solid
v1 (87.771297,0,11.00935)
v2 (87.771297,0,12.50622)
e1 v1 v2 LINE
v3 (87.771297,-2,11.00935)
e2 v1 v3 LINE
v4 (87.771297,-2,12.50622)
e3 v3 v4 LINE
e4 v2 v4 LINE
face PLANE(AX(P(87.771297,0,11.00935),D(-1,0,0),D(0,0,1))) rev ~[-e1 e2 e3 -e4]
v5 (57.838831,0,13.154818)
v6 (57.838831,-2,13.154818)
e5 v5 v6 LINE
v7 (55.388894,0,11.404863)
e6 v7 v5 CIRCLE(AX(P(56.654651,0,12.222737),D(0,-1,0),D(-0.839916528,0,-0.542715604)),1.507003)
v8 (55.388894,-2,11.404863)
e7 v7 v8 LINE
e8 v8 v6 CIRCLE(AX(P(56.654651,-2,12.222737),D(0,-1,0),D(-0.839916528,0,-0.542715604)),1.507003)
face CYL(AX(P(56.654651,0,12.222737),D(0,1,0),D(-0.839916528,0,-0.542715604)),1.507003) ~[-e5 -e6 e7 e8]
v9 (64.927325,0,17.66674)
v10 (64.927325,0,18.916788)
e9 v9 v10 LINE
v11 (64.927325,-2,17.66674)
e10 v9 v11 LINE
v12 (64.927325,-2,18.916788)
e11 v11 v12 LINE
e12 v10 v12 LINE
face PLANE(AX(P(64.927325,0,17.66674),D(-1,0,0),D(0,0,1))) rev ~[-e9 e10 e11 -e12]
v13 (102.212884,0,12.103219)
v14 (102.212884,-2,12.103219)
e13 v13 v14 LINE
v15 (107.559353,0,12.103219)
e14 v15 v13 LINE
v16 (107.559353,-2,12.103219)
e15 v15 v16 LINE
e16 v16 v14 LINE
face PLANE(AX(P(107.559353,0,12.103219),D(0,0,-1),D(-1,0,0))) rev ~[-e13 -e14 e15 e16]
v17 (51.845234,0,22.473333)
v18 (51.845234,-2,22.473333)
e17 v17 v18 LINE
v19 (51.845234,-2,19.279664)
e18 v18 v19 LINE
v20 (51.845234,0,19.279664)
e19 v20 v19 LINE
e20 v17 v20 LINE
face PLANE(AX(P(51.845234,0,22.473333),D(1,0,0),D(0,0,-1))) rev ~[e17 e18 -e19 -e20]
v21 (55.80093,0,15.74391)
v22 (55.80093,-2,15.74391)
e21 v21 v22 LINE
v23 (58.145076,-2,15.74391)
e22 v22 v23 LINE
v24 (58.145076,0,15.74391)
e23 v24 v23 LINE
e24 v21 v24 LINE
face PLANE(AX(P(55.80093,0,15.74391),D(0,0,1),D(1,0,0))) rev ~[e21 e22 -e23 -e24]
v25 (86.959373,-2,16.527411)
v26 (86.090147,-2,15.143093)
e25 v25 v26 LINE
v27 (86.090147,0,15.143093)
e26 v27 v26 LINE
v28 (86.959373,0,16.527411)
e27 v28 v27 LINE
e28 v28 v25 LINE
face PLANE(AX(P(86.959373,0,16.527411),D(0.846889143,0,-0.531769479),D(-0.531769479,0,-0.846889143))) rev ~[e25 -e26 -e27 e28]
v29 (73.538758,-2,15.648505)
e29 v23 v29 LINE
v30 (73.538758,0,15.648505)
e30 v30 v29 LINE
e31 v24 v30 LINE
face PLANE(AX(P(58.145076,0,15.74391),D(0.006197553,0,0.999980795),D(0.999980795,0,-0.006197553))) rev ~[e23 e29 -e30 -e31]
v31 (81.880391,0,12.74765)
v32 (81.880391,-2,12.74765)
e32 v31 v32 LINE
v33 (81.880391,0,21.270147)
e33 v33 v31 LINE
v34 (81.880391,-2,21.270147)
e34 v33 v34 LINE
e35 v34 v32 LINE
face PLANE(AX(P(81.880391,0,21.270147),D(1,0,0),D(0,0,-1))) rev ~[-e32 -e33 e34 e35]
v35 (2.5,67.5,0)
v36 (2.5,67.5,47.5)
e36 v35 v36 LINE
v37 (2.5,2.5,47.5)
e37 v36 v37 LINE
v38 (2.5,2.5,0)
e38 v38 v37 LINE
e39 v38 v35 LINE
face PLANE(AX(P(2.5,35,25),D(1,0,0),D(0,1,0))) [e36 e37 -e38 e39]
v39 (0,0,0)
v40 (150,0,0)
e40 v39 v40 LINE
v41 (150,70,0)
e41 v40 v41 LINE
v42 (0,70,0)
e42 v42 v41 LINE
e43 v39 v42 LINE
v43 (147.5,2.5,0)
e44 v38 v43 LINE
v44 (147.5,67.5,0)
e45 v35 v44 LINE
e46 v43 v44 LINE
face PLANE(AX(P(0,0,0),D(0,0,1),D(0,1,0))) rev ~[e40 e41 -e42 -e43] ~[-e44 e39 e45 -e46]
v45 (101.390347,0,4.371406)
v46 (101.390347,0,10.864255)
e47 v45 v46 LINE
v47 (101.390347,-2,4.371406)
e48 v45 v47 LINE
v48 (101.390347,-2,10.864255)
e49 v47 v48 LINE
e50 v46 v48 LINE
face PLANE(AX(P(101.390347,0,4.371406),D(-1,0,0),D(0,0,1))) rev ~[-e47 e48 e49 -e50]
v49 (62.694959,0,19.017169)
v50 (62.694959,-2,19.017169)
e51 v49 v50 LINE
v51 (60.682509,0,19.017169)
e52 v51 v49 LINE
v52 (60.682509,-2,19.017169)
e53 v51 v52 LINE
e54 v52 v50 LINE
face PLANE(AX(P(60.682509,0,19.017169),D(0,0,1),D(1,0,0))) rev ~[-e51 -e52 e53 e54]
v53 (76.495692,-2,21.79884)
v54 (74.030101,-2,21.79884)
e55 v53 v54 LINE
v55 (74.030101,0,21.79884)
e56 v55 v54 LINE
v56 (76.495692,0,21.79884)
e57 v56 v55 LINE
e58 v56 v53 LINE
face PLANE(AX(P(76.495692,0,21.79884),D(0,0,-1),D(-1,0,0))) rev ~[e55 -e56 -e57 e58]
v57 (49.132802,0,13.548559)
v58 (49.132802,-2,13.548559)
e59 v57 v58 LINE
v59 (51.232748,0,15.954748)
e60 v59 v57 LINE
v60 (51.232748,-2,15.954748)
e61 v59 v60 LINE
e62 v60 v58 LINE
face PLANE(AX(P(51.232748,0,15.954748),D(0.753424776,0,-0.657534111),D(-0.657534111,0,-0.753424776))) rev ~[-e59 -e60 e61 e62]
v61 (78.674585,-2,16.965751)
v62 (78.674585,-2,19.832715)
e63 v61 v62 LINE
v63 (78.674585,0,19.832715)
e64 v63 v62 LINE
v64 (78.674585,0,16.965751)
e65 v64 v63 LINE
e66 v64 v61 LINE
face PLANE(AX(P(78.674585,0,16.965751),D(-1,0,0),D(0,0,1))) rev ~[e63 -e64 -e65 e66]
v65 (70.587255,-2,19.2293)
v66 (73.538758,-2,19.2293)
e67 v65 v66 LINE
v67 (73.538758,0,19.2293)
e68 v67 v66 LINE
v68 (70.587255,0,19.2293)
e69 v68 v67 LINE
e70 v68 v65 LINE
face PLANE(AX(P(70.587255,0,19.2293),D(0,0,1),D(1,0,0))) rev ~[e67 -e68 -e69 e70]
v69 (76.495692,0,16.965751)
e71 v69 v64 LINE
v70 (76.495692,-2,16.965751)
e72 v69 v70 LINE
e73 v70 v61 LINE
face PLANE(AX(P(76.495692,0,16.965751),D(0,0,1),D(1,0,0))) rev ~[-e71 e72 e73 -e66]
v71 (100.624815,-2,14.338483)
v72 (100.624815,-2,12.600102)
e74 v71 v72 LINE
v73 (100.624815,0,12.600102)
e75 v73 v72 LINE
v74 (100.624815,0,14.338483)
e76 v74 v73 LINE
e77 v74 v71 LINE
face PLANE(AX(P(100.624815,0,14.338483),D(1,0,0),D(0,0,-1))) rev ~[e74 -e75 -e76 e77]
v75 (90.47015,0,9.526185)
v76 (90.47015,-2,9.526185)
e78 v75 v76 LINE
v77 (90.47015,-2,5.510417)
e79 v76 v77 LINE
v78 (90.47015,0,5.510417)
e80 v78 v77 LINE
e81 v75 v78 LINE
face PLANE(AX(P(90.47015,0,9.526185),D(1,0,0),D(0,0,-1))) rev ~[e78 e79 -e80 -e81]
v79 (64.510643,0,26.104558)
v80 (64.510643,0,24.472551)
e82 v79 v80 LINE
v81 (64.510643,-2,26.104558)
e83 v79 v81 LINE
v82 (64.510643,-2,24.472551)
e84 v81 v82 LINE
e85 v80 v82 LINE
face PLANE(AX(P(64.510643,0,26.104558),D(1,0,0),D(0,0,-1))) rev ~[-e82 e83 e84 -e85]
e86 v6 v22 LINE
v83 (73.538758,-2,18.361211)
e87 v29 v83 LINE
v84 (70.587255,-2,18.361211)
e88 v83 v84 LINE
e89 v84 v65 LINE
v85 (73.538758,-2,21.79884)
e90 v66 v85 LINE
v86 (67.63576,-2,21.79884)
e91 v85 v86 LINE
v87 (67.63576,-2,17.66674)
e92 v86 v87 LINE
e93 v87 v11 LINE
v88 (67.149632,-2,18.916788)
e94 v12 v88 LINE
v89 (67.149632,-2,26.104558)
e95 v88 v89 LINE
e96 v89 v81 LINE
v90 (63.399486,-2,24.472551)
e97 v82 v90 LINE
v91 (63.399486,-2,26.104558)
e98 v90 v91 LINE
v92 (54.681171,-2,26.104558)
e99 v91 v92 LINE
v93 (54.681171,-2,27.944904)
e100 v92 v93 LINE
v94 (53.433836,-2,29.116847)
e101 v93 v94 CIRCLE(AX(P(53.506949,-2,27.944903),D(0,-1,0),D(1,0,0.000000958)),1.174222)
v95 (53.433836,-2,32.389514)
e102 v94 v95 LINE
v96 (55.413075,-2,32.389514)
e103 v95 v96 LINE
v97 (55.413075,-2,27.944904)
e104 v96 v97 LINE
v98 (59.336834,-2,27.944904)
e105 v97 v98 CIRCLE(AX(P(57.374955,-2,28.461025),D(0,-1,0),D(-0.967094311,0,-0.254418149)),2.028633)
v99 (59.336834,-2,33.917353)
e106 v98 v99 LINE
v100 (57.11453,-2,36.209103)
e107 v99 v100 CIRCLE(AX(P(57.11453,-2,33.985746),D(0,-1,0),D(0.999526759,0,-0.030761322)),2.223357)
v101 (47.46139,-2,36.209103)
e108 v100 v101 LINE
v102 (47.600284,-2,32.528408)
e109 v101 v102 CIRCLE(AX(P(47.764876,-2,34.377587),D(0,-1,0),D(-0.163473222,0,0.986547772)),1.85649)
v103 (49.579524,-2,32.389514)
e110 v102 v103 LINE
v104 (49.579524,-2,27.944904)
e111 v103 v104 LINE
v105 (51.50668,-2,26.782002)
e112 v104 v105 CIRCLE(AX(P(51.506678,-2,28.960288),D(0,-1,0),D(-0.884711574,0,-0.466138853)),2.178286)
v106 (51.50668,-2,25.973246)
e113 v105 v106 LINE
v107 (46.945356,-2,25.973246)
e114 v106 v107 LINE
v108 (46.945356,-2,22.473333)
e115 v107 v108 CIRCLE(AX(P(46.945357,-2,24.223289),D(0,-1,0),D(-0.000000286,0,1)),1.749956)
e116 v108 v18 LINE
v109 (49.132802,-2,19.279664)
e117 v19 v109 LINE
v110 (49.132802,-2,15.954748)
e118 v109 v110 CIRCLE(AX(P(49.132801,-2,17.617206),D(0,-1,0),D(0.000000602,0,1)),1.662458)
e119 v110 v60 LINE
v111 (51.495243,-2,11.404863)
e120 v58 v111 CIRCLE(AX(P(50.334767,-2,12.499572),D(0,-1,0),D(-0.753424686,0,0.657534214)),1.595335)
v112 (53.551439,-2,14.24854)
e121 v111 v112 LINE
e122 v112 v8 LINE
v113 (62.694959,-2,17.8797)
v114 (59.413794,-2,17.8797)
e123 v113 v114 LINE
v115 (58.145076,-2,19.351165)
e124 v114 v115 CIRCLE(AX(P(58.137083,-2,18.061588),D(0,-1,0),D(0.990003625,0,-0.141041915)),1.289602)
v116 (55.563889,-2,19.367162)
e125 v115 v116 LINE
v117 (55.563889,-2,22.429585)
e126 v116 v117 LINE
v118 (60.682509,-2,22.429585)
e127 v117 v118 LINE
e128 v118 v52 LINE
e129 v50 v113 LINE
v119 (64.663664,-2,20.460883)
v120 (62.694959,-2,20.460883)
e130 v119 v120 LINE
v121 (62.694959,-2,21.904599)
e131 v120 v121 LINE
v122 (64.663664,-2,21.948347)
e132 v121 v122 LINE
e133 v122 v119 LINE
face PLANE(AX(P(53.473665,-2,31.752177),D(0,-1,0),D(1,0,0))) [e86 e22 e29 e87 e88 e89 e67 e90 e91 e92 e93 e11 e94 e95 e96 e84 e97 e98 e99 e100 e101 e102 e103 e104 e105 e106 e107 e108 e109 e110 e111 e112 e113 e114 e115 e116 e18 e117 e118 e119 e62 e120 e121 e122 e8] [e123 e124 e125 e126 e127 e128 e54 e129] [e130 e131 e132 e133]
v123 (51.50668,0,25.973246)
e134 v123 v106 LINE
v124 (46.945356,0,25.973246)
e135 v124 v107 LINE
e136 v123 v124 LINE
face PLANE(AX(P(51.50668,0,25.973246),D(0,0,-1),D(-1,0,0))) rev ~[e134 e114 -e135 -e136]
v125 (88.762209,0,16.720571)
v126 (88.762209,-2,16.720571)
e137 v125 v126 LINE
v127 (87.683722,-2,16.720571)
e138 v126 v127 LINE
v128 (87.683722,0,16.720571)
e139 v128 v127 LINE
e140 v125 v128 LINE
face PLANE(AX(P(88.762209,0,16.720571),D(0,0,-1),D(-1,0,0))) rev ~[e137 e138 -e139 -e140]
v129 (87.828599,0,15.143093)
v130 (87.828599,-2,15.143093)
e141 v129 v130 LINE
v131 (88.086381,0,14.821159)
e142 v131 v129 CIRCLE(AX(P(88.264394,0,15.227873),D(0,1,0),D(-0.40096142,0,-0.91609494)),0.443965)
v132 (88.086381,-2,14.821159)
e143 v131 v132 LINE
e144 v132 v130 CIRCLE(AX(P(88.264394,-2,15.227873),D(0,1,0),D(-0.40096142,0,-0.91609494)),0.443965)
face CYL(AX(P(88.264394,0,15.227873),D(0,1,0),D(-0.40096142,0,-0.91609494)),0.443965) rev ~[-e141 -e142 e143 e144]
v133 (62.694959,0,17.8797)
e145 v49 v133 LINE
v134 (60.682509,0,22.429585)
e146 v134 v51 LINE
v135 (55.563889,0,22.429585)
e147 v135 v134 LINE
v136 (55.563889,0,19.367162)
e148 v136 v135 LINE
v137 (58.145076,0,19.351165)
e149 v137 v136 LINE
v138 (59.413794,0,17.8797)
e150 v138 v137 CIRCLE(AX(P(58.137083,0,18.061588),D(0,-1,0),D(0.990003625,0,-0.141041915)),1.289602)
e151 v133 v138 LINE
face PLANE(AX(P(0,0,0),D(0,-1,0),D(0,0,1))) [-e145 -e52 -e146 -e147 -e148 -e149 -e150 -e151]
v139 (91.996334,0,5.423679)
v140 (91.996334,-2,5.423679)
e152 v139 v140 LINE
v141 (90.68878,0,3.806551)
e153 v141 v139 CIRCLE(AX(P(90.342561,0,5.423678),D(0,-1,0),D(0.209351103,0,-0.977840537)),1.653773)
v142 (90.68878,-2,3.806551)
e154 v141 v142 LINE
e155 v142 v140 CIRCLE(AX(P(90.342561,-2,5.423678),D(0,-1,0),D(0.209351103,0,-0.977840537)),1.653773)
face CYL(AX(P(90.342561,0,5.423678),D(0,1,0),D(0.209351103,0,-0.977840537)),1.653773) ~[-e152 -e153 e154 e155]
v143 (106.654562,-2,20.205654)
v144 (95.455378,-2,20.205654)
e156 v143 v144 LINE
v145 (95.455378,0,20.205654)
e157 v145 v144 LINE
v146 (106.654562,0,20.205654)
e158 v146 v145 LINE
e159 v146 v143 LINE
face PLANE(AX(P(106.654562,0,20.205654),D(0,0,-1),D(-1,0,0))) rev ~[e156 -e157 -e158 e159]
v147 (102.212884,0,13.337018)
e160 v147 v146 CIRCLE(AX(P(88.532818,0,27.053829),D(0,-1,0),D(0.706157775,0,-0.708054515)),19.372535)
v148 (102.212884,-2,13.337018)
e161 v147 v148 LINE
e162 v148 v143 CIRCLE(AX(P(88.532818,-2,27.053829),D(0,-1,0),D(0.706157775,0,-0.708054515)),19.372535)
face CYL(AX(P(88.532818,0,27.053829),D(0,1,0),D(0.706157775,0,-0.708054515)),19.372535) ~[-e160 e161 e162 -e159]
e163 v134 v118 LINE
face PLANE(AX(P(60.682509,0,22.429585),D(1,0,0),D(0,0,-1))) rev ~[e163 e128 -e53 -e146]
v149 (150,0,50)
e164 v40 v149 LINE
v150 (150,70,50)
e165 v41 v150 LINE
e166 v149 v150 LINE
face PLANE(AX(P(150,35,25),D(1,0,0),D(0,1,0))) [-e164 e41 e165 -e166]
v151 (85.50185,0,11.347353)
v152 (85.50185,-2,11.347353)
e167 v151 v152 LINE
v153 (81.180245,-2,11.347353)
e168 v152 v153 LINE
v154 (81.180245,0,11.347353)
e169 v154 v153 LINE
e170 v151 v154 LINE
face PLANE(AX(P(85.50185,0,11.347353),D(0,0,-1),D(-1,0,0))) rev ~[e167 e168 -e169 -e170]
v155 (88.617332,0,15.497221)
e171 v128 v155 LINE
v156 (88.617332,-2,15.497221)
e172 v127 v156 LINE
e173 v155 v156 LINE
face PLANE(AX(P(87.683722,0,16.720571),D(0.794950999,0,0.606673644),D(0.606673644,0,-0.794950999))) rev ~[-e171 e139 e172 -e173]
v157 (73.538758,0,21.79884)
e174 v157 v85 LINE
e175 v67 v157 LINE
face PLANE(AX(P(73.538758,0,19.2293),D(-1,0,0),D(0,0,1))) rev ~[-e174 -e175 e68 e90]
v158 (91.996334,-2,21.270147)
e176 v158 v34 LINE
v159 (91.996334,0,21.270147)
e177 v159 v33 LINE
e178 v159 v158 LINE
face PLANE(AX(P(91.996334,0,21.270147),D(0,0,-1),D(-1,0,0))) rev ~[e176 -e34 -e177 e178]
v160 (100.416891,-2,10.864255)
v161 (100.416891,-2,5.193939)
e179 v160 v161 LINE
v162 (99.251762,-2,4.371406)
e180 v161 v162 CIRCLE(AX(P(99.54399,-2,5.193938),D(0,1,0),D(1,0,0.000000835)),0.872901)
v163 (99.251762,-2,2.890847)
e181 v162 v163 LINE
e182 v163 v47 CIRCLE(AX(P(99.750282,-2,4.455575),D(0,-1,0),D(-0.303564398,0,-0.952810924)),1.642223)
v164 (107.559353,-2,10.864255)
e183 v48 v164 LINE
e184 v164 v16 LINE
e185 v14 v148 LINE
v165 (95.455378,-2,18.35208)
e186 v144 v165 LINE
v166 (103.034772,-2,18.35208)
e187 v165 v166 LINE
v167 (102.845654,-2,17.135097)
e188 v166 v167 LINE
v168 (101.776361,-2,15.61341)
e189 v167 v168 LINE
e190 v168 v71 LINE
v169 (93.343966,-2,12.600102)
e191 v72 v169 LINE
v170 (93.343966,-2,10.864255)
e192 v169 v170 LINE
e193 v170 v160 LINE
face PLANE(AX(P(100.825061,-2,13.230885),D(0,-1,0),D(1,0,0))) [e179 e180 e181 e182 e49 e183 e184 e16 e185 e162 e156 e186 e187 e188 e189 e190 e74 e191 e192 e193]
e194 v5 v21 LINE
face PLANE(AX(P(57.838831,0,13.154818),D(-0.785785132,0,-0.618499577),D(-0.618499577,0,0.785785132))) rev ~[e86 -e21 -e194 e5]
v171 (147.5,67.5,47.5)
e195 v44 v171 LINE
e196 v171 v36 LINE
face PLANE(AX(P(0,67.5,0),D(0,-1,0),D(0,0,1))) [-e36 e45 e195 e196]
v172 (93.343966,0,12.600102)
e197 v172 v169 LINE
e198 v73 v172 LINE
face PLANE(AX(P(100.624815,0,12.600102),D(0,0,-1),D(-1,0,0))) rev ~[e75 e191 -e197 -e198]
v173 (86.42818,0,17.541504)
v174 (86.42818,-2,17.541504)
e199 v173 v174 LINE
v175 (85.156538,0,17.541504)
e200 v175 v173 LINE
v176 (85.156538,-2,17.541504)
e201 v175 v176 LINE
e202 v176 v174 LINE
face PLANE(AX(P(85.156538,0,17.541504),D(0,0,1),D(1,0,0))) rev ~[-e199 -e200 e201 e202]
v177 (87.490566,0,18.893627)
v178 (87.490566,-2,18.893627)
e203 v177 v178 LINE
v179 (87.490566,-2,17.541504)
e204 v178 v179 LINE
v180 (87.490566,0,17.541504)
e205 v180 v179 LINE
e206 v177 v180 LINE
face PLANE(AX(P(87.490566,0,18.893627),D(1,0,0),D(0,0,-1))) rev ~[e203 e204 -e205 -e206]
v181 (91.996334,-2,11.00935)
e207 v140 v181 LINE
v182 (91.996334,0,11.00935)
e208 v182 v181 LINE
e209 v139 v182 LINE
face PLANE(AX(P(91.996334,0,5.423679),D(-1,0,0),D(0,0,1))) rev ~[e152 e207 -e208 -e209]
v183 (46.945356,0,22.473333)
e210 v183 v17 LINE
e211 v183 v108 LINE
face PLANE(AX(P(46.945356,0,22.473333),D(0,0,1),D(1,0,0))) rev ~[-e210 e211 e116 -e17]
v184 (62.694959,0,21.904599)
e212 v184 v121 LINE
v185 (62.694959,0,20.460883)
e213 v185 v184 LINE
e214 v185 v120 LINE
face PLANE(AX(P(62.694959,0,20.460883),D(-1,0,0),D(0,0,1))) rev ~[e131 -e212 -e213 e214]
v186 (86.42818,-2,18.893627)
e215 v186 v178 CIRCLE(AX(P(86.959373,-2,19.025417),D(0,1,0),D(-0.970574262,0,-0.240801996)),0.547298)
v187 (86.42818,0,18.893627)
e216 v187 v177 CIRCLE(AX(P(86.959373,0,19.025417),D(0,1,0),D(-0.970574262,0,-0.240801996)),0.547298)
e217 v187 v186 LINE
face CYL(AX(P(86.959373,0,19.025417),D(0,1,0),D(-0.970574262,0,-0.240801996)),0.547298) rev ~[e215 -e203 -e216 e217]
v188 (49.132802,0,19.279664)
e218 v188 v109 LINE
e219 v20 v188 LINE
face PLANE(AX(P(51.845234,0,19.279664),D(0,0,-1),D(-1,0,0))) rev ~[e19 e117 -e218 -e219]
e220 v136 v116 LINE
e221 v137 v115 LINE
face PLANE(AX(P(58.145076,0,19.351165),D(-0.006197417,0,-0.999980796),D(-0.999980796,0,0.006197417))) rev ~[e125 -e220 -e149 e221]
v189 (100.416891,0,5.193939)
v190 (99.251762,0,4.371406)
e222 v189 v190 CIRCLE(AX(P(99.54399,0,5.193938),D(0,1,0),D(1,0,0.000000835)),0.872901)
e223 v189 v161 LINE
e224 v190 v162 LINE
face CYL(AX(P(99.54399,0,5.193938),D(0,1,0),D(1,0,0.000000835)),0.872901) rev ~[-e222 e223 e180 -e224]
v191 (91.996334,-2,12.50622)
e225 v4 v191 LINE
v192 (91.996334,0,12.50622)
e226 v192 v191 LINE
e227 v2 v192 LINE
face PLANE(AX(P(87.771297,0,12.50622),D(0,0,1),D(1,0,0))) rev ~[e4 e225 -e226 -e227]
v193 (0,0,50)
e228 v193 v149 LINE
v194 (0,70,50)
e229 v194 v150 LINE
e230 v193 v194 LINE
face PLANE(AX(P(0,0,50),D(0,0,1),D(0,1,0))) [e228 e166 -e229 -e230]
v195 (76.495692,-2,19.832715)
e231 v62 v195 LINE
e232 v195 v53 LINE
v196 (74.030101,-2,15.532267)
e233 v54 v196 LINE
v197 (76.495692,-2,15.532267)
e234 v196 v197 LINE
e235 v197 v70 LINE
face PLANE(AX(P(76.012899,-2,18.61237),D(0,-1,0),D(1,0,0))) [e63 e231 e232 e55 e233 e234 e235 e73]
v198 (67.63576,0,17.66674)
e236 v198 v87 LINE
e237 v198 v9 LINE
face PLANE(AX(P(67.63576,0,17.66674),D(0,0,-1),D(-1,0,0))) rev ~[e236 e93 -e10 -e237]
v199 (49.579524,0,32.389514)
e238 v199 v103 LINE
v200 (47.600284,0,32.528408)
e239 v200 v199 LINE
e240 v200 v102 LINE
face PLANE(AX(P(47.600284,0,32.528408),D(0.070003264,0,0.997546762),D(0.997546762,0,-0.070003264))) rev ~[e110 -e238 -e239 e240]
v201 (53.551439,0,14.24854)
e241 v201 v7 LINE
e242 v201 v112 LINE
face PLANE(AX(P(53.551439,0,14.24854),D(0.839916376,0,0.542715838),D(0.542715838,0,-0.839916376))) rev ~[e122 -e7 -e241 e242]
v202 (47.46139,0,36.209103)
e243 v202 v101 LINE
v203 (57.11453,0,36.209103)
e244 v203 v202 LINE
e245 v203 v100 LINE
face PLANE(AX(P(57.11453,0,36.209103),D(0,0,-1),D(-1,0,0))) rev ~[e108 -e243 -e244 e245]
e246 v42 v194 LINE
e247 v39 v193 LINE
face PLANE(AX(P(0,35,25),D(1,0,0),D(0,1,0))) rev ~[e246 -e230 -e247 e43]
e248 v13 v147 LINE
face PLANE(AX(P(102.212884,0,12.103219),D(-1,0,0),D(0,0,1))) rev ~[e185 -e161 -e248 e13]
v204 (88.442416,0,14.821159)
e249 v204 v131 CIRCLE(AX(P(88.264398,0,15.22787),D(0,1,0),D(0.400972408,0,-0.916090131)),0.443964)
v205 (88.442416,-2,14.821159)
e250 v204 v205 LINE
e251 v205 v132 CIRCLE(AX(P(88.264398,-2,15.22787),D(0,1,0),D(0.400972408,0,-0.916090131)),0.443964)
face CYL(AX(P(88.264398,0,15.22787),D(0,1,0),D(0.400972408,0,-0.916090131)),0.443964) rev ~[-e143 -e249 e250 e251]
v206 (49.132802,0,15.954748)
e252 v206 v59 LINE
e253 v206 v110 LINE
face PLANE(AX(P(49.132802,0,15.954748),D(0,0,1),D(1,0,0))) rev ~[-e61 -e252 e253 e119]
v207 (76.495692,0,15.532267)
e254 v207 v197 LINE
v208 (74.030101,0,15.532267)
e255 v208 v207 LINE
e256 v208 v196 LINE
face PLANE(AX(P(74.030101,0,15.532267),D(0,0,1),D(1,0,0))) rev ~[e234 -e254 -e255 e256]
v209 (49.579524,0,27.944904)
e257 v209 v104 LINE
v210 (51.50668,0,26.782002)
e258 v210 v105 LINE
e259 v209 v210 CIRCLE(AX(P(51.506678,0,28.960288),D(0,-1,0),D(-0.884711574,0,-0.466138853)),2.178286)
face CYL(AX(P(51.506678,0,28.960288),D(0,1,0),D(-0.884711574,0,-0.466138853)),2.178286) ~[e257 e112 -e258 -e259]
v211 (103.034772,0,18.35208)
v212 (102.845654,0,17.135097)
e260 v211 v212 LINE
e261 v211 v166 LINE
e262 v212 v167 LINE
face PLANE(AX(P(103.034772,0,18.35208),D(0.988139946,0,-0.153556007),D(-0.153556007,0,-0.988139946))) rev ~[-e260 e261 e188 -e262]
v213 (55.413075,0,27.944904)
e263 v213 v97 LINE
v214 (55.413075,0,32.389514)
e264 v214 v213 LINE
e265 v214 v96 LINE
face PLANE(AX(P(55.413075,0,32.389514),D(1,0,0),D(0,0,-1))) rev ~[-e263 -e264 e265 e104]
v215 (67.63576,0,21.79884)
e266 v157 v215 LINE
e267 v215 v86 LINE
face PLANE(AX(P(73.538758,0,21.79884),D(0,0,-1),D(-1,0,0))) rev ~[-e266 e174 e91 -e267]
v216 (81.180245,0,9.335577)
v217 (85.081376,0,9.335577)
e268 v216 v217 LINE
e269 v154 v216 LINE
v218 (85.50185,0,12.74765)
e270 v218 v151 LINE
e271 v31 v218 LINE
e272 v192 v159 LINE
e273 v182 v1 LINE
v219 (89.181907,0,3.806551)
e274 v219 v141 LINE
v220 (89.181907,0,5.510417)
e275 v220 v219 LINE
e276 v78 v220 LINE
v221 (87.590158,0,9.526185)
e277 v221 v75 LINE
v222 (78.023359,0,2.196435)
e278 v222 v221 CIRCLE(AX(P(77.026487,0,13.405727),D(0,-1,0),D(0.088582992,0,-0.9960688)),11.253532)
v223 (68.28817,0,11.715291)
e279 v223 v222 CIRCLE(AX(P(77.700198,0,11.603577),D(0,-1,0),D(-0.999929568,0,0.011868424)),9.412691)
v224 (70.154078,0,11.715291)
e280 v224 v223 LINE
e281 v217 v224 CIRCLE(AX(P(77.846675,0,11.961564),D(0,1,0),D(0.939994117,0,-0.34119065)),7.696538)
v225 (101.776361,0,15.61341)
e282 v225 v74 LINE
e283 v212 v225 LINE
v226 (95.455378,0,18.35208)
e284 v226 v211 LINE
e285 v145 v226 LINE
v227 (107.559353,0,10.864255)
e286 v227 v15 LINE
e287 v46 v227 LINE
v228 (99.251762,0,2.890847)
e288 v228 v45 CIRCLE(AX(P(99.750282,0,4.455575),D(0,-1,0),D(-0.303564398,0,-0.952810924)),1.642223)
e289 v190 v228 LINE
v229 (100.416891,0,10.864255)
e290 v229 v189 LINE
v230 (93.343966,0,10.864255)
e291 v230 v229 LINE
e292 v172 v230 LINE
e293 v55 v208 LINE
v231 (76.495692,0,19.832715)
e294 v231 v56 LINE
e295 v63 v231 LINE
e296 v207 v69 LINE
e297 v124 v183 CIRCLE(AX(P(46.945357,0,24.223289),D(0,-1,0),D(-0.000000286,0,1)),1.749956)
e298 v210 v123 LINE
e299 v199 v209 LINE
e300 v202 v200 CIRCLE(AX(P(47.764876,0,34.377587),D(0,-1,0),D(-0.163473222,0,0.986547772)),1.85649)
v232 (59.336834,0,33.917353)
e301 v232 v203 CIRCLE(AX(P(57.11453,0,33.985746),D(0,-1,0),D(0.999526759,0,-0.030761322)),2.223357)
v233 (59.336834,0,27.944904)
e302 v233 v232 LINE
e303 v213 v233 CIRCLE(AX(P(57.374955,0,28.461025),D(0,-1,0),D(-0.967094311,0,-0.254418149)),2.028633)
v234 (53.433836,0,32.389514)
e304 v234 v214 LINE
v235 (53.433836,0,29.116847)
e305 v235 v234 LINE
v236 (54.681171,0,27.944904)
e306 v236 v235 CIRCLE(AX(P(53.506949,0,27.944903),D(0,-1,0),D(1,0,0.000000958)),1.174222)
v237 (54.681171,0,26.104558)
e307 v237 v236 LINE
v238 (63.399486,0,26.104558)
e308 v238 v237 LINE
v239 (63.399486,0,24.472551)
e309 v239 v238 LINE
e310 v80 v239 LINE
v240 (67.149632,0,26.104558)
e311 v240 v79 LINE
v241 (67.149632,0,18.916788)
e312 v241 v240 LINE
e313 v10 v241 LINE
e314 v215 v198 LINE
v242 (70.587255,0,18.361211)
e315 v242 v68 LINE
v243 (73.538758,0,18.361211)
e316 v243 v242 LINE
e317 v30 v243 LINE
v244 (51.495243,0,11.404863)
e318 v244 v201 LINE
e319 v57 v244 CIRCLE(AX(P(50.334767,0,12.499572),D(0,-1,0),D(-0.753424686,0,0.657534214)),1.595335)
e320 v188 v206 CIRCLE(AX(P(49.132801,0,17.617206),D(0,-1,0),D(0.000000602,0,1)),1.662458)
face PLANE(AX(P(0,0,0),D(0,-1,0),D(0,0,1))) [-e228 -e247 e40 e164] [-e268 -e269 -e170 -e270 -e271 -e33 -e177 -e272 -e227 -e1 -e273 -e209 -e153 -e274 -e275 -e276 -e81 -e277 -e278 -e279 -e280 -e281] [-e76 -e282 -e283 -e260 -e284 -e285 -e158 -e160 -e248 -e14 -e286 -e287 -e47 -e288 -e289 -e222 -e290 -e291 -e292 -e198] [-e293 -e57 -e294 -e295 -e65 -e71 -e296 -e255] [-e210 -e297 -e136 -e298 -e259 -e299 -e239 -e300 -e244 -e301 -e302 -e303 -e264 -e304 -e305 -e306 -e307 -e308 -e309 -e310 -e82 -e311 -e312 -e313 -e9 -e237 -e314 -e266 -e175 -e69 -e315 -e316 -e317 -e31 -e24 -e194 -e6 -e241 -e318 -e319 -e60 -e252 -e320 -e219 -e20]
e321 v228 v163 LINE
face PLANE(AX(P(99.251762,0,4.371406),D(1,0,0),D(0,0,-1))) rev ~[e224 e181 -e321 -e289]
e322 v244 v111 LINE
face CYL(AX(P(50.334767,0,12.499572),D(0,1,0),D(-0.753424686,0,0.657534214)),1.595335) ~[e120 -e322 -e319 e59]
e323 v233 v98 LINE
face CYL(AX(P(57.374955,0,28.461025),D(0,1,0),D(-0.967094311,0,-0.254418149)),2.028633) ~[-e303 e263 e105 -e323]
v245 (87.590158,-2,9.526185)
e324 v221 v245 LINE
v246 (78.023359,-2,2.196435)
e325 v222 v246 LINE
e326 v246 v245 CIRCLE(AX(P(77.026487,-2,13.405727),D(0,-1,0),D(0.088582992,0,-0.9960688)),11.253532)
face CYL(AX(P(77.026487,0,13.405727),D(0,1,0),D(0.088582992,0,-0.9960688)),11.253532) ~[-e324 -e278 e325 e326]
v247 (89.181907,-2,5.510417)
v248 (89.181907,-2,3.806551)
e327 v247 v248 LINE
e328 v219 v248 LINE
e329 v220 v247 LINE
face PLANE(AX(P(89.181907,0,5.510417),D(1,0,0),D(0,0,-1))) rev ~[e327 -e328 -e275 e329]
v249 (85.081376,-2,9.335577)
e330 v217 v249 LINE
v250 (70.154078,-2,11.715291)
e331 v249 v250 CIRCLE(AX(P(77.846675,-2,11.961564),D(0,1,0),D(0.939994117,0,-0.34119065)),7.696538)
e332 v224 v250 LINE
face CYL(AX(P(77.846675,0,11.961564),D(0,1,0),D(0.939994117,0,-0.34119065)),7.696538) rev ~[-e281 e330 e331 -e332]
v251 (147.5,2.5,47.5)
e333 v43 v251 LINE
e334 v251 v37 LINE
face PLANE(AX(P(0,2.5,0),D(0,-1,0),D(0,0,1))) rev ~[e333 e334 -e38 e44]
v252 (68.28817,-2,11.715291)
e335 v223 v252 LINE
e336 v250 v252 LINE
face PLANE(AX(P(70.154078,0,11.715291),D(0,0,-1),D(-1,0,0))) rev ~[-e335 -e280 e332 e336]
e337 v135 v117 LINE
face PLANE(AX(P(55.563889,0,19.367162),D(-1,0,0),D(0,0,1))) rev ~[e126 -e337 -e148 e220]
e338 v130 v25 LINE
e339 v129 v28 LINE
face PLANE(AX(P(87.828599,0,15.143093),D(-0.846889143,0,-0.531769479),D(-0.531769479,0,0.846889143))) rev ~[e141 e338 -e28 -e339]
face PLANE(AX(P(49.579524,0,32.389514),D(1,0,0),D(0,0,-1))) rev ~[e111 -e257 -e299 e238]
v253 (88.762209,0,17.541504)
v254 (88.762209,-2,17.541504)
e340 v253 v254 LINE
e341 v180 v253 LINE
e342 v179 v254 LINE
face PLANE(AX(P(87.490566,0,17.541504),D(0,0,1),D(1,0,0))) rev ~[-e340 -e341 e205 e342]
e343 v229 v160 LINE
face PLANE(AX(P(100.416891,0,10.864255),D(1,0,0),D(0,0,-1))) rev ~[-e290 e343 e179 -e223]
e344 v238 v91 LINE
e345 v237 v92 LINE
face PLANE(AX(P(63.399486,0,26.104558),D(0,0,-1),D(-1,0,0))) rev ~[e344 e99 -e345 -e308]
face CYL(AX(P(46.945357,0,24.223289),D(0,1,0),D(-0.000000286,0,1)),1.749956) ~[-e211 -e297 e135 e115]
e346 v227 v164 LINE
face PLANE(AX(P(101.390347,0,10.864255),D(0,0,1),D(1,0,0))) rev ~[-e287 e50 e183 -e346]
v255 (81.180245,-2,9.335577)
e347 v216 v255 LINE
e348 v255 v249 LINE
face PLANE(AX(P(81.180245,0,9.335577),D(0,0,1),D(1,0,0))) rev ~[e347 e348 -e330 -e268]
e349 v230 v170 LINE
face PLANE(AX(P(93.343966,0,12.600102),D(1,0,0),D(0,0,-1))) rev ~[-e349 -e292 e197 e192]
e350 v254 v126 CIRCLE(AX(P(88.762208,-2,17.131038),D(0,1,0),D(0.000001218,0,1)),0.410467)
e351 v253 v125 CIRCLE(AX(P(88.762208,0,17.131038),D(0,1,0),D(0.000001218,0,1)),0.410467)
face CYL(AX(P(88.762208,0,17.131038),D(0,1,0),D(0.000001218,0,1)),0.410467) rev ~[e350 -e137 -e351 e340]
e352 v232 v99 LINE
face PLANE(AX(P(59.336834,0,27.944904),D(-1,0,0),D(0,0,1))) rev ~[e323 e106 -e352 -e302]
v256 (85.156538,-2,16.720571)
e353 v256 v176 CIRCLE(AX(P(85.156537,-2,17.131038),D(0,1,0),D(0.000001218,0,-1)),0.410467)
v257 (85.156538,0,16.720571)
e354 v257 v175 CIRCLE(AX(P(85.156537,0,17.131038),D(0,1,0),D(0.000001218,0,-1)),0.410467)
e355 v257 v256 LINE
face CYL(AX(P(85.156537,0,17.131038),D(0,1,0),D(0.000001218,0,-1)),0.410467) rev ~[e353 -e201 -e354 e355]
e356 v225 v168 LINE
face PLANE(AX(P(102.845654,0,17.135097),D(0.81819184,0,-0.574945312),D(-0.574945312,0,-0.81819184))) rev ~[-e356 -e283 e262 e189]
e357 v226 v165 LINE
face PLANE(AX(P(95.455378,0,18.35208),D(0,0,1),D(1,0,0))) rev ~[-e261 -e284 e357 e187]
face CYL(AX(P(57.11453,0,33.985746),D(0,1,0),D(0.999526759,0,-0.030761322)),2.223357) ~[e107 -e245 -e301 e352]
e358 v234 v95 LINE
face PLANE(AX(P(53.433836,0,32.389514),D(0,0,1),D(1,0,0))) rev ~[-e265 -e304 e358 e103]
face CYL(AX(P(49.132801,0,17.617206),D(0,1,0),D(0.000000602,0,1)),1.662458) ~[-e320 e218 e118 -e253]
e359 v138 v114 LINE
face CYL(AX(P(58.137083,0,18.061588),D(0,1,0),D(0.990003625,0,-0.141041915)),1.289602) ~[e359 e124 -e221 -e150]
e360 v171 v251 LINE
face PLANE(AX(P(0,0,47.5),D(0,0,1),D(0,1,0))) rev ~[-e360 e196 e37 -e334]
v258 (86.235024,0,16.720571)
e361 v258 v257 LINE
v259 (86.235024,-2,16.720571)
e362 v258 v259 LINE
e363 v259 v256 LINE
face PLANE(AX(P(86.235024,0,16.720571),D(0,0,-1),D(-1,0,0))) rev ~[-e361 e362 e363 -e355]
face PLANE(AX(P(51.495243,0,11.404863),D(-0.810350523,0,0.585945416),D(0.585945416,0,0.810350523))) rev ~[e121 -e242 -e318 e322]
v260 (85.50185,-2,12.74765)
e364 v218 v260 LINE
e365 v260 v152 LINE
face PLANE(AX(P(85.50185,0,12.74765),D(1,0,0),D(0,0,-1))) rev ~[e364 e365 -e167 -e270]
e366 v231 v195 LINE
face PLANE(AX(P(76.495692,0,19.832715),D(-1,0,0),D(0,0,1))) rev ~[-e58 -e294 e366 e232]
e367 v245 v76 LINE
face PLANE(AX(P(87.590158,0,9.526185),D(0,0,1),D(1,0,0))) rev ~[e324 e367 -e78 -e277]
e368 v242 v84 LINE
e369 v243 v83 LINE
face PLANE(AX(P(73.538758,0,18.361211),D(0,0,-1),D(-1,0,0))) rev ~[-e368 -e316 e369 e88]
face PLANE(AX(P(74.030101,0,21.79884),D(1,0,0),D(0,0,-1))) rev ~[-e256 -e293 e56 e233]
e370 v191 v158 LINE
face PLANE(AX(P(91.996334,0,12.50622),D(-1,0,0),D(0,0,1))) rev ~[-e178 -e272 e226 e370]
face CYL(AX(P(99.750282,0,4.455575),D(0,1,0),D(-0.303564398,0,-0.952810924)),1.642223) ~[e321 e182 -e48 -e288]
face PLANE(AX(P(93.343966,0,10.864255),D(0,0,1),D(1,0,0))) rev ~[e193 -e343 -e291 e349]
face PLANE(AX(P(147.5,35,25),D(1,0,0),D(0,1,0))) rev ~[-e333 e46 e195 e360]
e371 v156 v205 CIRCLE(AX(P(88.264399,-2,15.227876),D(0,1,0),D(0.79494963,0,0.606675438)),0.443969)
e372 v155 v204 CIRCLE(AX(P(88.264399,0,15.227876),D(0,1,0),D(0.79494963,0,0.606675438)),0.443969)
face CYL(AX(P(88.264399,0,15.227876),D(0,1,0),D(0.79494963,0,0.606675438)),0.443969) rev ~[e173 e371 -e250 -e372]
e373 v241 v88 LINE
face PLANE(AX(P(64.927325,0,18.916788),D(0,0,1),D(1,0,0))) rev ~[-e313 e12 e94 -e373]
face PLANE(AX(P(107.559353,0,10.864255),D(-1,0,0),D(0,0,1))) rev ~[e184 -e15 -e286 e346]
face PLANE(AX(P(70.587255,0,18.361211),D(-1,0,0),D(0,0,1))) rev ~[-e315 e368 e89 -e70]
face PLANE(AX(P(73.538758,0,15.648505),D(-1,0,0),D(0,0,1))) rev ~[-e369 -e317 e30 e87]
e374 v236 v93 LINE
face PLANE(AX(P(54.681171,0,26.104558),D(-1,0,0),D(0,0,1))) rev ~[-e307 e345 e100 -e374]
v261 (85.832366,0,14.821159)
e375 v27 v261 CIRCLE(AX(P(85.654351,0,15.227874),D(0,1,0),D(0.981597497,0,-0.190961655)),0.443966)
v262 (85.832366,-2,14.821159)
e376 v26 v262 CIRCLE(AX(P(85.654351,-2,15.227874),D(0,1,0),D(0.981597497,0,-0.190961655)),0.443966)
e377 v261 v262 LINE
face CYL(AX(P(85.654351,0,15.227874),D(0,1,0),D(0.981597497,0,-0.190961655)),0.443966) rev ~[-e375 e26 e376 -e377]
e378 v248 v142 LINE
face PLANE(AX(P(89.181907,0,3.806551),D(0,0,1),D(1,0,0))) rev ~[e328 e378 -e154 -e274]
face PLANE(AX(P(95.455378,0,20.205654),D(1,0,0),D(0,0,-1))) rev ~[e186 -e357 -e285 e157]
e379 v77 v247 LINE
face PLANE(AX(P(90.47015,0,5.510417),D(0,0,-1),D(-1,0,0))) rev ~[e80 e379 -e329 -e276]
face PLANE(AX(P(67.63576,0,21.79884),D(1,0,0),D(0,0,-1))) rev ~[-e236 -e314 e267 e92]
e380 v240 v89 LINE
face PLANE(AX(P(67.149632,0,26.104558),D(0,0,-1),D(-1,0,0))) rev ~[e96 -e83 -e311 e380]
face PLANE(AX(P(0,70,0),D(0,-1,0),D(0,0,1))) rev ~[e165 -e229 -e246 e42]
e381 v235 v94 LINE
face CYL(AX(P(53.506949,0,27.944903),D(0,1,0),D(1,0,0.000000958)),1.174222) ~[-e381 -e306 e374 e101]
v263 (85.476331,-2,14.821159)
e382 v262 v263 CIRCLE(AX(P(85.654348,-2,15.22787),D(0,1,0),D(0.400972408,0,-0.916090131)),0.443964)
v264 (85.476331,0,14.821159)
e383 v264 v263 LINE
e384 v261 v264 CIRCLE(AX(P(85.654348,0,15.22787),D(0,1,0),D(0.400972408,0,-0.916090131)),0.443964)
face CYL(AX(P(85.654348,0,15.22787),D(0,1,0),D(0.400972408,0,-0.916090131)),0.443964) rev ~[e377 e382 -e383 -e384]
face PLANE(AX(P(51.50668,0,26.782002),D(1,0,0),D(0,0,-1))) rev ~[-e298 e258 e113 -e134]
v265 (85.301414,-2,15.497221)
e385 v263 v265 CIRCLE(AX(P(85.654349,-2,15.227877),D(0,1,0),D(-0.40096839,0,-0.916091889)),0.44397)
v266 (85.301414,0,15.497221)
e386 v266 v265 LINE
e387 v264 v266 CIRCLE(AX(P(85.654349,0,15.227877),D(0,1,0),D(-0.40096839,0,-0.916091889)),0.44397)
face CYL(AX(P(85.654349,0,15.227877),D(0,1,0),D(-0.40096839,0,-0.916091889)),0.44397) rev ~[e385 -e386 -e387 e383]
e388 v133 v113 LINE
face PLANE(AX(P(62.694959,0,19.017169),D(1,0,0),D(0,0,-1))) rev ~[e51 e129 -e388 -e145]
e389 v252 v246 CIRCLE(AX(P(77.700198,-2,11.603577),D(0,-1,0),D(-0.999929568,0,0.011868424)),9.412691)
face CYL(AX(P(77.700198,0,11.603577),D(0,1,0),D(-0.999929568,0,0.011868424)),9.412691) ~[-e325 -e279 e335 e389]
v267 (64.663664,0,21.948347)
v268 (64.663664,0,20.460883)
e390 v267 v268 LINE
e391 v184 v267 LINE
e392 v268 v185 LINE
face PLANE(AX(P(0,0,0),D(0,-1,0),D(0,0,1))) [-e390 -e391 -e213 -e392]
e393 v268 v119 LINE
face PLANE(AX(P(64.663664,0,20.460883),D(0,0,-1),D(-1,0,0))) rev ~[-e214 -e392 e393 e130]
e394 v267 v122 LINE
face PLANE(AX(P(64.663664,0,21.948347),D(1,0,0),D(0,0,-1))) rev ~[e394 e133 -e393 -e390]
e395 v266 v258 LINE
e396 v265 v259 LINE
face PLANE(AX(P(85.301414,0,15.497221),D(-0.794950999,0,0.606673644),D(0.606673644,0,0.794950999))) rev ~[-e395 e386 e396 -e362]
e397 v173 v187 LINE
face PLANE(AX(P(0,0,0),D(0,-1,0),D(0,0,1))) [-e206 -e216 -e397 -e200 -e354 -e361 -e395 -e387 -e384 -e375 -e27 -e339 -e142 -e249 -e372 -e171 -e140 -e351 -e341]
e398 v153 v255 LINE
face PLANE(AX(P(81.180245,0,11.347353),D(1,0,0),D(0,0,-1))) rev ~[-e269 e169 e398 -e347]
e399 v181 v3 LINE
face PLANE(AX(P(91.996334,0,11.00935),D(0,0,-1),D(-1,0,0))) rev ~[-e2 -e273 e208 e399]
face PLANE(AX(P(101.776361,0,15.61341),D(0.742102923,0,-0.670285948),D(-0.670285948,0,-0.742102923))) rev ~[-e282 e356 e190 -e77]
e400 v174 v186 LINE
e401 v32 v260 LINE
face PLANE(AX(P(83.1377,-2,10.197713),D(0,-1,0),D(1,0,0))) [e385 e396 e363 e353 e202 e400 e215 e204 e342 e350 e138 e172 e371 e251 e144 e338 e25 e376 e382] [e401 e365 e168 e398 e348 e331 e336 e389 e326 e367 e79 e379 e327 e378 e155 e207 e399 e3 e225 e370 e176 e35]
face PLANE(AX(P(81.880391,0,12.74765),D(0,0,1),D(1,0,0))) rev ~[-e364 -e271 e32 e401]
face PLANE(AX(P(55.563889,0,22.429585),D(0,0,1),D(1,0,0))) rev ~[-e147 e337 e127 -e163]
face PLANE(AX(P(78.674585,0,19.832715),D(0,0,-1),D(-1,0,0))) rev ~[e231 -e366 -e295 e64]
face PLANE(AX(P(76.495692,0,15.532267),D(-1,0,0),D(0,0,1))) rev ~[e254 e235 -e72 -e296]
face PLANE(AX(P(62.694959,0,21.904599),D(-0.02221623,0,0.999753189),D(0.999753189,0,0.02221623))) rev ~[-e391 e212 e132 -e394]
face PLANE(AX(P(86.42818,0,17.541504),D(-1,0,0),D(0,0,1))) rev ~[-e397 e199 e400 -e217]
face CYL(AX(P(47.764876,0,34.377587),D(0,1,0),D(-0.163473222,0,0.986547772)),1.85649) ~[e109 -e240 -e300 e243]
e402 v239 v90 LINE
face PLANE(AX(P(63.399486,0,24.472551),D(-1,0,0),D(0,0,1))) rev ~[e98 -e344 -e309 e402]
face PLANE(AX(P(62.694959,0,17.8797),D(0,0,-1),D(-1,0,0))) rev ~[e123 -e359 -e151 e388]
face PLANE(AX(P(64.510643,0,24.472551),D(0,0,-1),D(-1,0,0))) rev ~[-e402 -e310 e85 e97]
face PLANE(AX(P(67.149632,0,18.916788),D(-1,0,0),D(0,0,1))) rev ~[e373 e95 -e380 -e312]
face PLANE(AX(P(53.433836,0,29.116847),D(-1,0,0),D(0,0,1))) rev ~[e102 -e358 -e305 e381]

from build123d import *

# Parameters (mm, degrees)
F0_W     = 70
F0_H     = 50
F1_DEPTH = 150
F2_T     = -2.5
F4_DEPTH = 2


with BuildPart() as f1:
    # F0 (on Right) → F1 (new body)
    with BuildSketch(Plane.YZ):
        with Locations((35, 25)):
            Rectangle(F0_W, F0_H)
    extrude(amount=F1_DEPTH)

    # F2
    f2_openings = [f1.faces().sort_by_distance(p)[0] for p in [
        (75, 35, 0),
    ]]
    offset(amount=F2_T, openings=f2_openings)

    # F3 (on Front) → F4 (join)
    with BuildSketch(Plane.XZ):
        with BuildLine():
            Line((57.11453, 36.209103), (47.46139, 36.209103))
            ThreePointArc((47.46139, 36.209103), (45.909707, 34.307581), (47.600284, 32.528408))
            Line((47.600284, 32.528408), (49.579524, 32.389514))
            Line((49.579524, 32.389514), (49.579524, 27.944904))
            ThreePointArc((49.579524, 27.944904), (50.38126, 27.095251), (51.50668, 26.782002))
            ThreePointArc((51.50668, 26.782002), (52.632099, 27.095251), (53.433836, 27.944904))
            Line((53.433836, 27.944904), (53.433836, 29.116847))
            Line((53.433836, 29.116847), (53.433836, 32.389514))
            Line((53.433836, 32.389514), (55.413075, 32.389514))
            Line((55.413075, 32.389514), (55.413075, 27.944904))
            ThreePointArc((55.413075, 27.944904), (57.374954, 26.432392), (59.336834, 27.944904))
            Line((59.336834, 27.944904), (59.336834, 33.917353))
            ThreePointArc((59.336834, 33.917353), (58.710678, 35.533527), (57.11453, 36.209103))
        make_face()
        with BuildLine():
            ThreePointArc((53.433836, 27.944904), (52.632099, 27.095251), (51.50668, 26.782002))
            Line((51.50668, 26.782002), (51.50668, 25.973246))
            Line((51.50668, 25.973246), (46.945356, 25.973246))
            ThreePointArc((46.945356, 25.973246), (45.1954, 24.223289), (46.945356, 22.473333))
            Line((46.945356, 22.473333), (51.845234, 22.473333))
            Line((51.845234, 22.473333), (51.845234, 19.279664))
            Line((51.845234, 19.279664), (49.132802, 19.279664))
            ThreePointArc((49.132802, 19.279664), (47.470343, 17.617206), (49.132802, 15.954748))
            Line((49.132802, 15.954748), (51.232748, 15.954748))
            Line((51.232748, 15.954748), (49.132802, 13.548559))
            ThreePointArc((49.132802, 13.548559), (49.262718, 11.31813), (51.495243, 11.404863))
            Line((51.495243, 11.404863), (53.551439, 14.24854))
            Line((53.551439, 14.24854), (55.388894, 11.404863))
            ThreePointArc((55.388894, 11.404863), (57.530578, 10.996438), (57.838831, 13.154818))
            Line((57.838831, 13.154818), (55.80093, 15.74391))
            Line((55.80093, 15.74391), (58.145076, 15.74391))
            Line((58.145076, 15.74391), (73.538758, 15.648505))
            Line((73.538758, 15.648505), (73.538758, 18.361211))
            Line((73.538758, 18.361211), (70.587255, 18.361211))
            Line((70.587255, 18.361211), (70.587255, 19.2293))
            Line((70.587255, 19.2293), (73.538758, 19.2293))
            Line((73.538758, 19.2293), (73.538758, 21.79884))
            Line((73.538758, 21.79884), (67.63576, 21.79884))
            Line((67.63576, 21.79884), (67.63576, 17.66674))
            Line((67.63576, 17.66674), (64.927325, 17.66674))
            Line((64.927325, 17.66674), (64.927325, 18.916788))
            Line((64.927325, 18.916788), (67.149632, 18.916788))
            Line((67.149632, 18.916788), (67.149632, 26.104558))
            Line((67.149632, 26.104558), (64.510643, 26.104558))
            Line((64.510643, 26.104558), (64.510643, 24.472551))
            Line((64.510643, 24.472551), (63.399486, 24.472551))
            Line((63.399486, 24.472551), (63.399486, 26.104558))
            Line((63.399486, 26.104558), (54.681171, 26.104558))
            Line((54.681171, 26.104558), (54.681171, 27.944904))
            ThreePointArc((54.681171, 27.944904), (54.310984, 28.800663), (53.433836, 29.116847))
            Line((53.433836, 29.116847), (53.433836, 27.944904))
        make_face()
        with BuildLine():
            Line((55.563889, 19.367162), (55.563889, 22.429585))
            Line((55.563889, 22.429585), (60.682509, 22.429585))
            Line((60.682509, 22.429585), (60.682509, 19.017169))
            Line((60.682509, 19.017169), (62.694959, 19.017169))
            Line((62.694959, 19.017169), (62.694959, 17.8797))
            Line((62.694959, 17.8797), (59.413794, 17.8797))
            ThreePointArc((59.413794, 17.8797), (59.113771, 18.903701), (58.145076, 19.351165))
            Line((58.145076, 19.351165), (55.563889, 19.367162))
        make_face(mode=Mode.SUBTRACT)
        Polygon((62.694959, 20.460883), (62.694959, 21.904599), (64.663664, 21.948347), (64.663664, 20.460883), align=None, mode=Mode.SUBTRACT)
        Polygon((76.495692, 21.79884), (74.030101, 21.79884), (74.030101, 15.532267), (76.495692, 15.532267), (76.495692, 16.965751), (78.674585, 16.965751), (78.674585, 19.832715), (76.495692, 19.832715), align=None)
        with BuildLine():
            Line((91.996334, 12.50622), (91.996334, 21.270147))
            Line((91.996334, 21.270147), (81.880391, 21.270147))
            Line((81.880391, 21.270147), (81.880391, 12.74765))
            Line((81.880391, 12.74765), (85.50185, 12.74765))
            Line((85.50185, 12.74765), (85.50185, 11.347353))
            Line((85.50185, 11.347353), (81.180245, 11.347353))
            Line((81.180245, 11.347353), (81.180245, 9.633197))
            Line((81.180245, 9.633197), (81.180245, 9.335577))
            Line((81.180245, 9.335577), (85.081376, 9.335577))
            ThreePointArc((85.081376, 9.335577), (76.634992, 4.361003), (70.154078, 11.715291))
            Line((70.154078, 11.715291), (68.28817, 11.715291))
            ThreePointArc((68.28817, 11.715291), (71.119618, 4.873442), (78.023359, 2.196435))
            ThreePointArc((78.023359, 2.196435), (83.870671, 4.472691), (87.590158, 9.526185))
            Line((87.590158, 9.526185), (90.47015, 9.526185))
            Line((90.47015, 9.526185), (90.47015, 5.510417))
            Line((90.47015, 5.510417), (89.181907, 5.510417))
            Line((89.181907, 5.510417), (89.181907, 3.806551))
            Line((89.181907, 3.806551), (90.68878, 3.806551))
            ThreePointArc((90.68878, 3.806551), (91.62855, 4.383871), (91.996334, 5.423679))
            Line((91.996334, 5.423679), (91.996334, 11.00935))
            Line((91.996334, 11.00935), (87.771297, 11.00935))
            Line((87.771297, 11.00935), (87.771297, 12.50622))
            Line((87.771297, 12.50622), (91.996334, 12.50622))
        make_face()
        with BuildLine():
            ThreePointArc((86.42818, 18.893627), (86.959373, 19.572715), (87.490566, 18.893627))
            Line((87.490566, 18.893627), (87.490566, 17.541504))
            Line((87.490566, 17.541504), (88.762209, 17.541504))
            ThreePointArc((88.762209, 17.541504), (89.172675, 17.131037), (88.762209, 16.720571))
            Line((88.762209, 16.720571), (87.683722, 16.720571))
            Line((87.683722, 16.720571), (88.617332, 15.497221))
            ThreePointArc((88.617332, 15.497221), (88.694215, 15.11667), (88.442416, 14.821159))
            ThreePointArc((88.442416, 14.821159), (88.264398, 14.783906), (88.086381, 14.821159))
            Line((88.086381, 14.821159), (87.764211, 14.821159))
            Line((87.764211, 14.821159), (86.186729, 14.821159))
            Line((86.186729, 14.821159), (85.832366, 14.821159))
            ThreePointArc((85.832366, 14.821159), (85.654348, 14.783906), (85.476331, 14.821159))
            ThreePointArc((85.476331, 14.821159), (85.224532, 15.11667), (85.301414, 15.497221))
            Line((85.301414, 15.497221), (86.235024, 16.720571))
            Line((86.235024, 16.720571), (85.156538, 16.720571))
            ThreePointArc((85.156538, 16.720571), (84.746071, 17.131037), (85.156538, 17.541504))
            Line((85.156538, 17.541504), (86.42818, 17.541504))
            Line((86.42818, 17.541504), (86.42818, 18.893627))
        make_face(mode=Mode.SUBTRACT)
        with BuildLine():
            Line((106.654562, 20.205654), (95.455378, 20.205654))
            Line((95.455378, 20.205654), (95.455378, 18.35208))
            Line((95.455378, 18.35208), (101.575367, 18.35208))
            Line((101.575367, 18.35208), (103.034772, 18.35208))
            Line((103.034772, 18.35208), (102.845654, 17.135097))
            Line((102.845654, 17.135097), (101.776361, 15.61341))
            Line((101.776361, 15.61341), (100.624815, 14.338483))
            Line((100.624815, 14.338483), (100.624815, 12.600102))
            Line((100.624815, 12.600102), (93.343966, 12.600102))
            Line((93.343966, 12.600102), (93.343966, 10.864255))
            Line((93.343966, 10.864255), (100.416891, 10.864255))
            Line((100.416891, 10.864255), (100.416891, 5.193939))
            ThreePointArc((100.416891, 5.193939), (100.047414, 4.480832), (99.251762, 4.371406))
            Line((99.251762, 4.371406), (99.251762, 2.890847))
            ThreePointArc((99.251762, 2.890847), (100.685052, 3.105352), (101.390347, 4.371406))
            Line((101.390347, 4.371406), (101.390347, 10.864255))
            Line((101.390347, 10.864255), (107.559353, 10.864255))
            Line((107.559353, 10.864255), (107.559353, 12.103219))
            Line((107.559353, 12.103219), (102.212884, 12.103219))
            Line((102.212884, 12.103219), (102.212884, 13.337018))
            ThreePointArc((102.212884, 13.337018), (104.800372, 16.534238), (106.654562, 20.205654))
        make_face()
        with BuildLine():
            Line((87.764211, 14.821159), (88.086381, 14.821159))
            ThreePointArc((88.086381, 14.821159), (87.917839, 14.950376), (87.828599, 15.143093))
            Line((87.828599, 15.143093), (86.959373, 16.527411))
            Line((86.959373, 16.527411), (86.090147, 15.143093))
            ThreePointArc((86.090147, 15.143093), (86.000907, 14.950376), (85.832366, 14.821159))
            Line((85.832366, 14.821159), (86.186729, 14.821159))
            Line((86.186729, 14.821159), (87.764211, 14.821159))
        make_face()
    extrude(amount=F4_DEPTH)


solid = f1.part
